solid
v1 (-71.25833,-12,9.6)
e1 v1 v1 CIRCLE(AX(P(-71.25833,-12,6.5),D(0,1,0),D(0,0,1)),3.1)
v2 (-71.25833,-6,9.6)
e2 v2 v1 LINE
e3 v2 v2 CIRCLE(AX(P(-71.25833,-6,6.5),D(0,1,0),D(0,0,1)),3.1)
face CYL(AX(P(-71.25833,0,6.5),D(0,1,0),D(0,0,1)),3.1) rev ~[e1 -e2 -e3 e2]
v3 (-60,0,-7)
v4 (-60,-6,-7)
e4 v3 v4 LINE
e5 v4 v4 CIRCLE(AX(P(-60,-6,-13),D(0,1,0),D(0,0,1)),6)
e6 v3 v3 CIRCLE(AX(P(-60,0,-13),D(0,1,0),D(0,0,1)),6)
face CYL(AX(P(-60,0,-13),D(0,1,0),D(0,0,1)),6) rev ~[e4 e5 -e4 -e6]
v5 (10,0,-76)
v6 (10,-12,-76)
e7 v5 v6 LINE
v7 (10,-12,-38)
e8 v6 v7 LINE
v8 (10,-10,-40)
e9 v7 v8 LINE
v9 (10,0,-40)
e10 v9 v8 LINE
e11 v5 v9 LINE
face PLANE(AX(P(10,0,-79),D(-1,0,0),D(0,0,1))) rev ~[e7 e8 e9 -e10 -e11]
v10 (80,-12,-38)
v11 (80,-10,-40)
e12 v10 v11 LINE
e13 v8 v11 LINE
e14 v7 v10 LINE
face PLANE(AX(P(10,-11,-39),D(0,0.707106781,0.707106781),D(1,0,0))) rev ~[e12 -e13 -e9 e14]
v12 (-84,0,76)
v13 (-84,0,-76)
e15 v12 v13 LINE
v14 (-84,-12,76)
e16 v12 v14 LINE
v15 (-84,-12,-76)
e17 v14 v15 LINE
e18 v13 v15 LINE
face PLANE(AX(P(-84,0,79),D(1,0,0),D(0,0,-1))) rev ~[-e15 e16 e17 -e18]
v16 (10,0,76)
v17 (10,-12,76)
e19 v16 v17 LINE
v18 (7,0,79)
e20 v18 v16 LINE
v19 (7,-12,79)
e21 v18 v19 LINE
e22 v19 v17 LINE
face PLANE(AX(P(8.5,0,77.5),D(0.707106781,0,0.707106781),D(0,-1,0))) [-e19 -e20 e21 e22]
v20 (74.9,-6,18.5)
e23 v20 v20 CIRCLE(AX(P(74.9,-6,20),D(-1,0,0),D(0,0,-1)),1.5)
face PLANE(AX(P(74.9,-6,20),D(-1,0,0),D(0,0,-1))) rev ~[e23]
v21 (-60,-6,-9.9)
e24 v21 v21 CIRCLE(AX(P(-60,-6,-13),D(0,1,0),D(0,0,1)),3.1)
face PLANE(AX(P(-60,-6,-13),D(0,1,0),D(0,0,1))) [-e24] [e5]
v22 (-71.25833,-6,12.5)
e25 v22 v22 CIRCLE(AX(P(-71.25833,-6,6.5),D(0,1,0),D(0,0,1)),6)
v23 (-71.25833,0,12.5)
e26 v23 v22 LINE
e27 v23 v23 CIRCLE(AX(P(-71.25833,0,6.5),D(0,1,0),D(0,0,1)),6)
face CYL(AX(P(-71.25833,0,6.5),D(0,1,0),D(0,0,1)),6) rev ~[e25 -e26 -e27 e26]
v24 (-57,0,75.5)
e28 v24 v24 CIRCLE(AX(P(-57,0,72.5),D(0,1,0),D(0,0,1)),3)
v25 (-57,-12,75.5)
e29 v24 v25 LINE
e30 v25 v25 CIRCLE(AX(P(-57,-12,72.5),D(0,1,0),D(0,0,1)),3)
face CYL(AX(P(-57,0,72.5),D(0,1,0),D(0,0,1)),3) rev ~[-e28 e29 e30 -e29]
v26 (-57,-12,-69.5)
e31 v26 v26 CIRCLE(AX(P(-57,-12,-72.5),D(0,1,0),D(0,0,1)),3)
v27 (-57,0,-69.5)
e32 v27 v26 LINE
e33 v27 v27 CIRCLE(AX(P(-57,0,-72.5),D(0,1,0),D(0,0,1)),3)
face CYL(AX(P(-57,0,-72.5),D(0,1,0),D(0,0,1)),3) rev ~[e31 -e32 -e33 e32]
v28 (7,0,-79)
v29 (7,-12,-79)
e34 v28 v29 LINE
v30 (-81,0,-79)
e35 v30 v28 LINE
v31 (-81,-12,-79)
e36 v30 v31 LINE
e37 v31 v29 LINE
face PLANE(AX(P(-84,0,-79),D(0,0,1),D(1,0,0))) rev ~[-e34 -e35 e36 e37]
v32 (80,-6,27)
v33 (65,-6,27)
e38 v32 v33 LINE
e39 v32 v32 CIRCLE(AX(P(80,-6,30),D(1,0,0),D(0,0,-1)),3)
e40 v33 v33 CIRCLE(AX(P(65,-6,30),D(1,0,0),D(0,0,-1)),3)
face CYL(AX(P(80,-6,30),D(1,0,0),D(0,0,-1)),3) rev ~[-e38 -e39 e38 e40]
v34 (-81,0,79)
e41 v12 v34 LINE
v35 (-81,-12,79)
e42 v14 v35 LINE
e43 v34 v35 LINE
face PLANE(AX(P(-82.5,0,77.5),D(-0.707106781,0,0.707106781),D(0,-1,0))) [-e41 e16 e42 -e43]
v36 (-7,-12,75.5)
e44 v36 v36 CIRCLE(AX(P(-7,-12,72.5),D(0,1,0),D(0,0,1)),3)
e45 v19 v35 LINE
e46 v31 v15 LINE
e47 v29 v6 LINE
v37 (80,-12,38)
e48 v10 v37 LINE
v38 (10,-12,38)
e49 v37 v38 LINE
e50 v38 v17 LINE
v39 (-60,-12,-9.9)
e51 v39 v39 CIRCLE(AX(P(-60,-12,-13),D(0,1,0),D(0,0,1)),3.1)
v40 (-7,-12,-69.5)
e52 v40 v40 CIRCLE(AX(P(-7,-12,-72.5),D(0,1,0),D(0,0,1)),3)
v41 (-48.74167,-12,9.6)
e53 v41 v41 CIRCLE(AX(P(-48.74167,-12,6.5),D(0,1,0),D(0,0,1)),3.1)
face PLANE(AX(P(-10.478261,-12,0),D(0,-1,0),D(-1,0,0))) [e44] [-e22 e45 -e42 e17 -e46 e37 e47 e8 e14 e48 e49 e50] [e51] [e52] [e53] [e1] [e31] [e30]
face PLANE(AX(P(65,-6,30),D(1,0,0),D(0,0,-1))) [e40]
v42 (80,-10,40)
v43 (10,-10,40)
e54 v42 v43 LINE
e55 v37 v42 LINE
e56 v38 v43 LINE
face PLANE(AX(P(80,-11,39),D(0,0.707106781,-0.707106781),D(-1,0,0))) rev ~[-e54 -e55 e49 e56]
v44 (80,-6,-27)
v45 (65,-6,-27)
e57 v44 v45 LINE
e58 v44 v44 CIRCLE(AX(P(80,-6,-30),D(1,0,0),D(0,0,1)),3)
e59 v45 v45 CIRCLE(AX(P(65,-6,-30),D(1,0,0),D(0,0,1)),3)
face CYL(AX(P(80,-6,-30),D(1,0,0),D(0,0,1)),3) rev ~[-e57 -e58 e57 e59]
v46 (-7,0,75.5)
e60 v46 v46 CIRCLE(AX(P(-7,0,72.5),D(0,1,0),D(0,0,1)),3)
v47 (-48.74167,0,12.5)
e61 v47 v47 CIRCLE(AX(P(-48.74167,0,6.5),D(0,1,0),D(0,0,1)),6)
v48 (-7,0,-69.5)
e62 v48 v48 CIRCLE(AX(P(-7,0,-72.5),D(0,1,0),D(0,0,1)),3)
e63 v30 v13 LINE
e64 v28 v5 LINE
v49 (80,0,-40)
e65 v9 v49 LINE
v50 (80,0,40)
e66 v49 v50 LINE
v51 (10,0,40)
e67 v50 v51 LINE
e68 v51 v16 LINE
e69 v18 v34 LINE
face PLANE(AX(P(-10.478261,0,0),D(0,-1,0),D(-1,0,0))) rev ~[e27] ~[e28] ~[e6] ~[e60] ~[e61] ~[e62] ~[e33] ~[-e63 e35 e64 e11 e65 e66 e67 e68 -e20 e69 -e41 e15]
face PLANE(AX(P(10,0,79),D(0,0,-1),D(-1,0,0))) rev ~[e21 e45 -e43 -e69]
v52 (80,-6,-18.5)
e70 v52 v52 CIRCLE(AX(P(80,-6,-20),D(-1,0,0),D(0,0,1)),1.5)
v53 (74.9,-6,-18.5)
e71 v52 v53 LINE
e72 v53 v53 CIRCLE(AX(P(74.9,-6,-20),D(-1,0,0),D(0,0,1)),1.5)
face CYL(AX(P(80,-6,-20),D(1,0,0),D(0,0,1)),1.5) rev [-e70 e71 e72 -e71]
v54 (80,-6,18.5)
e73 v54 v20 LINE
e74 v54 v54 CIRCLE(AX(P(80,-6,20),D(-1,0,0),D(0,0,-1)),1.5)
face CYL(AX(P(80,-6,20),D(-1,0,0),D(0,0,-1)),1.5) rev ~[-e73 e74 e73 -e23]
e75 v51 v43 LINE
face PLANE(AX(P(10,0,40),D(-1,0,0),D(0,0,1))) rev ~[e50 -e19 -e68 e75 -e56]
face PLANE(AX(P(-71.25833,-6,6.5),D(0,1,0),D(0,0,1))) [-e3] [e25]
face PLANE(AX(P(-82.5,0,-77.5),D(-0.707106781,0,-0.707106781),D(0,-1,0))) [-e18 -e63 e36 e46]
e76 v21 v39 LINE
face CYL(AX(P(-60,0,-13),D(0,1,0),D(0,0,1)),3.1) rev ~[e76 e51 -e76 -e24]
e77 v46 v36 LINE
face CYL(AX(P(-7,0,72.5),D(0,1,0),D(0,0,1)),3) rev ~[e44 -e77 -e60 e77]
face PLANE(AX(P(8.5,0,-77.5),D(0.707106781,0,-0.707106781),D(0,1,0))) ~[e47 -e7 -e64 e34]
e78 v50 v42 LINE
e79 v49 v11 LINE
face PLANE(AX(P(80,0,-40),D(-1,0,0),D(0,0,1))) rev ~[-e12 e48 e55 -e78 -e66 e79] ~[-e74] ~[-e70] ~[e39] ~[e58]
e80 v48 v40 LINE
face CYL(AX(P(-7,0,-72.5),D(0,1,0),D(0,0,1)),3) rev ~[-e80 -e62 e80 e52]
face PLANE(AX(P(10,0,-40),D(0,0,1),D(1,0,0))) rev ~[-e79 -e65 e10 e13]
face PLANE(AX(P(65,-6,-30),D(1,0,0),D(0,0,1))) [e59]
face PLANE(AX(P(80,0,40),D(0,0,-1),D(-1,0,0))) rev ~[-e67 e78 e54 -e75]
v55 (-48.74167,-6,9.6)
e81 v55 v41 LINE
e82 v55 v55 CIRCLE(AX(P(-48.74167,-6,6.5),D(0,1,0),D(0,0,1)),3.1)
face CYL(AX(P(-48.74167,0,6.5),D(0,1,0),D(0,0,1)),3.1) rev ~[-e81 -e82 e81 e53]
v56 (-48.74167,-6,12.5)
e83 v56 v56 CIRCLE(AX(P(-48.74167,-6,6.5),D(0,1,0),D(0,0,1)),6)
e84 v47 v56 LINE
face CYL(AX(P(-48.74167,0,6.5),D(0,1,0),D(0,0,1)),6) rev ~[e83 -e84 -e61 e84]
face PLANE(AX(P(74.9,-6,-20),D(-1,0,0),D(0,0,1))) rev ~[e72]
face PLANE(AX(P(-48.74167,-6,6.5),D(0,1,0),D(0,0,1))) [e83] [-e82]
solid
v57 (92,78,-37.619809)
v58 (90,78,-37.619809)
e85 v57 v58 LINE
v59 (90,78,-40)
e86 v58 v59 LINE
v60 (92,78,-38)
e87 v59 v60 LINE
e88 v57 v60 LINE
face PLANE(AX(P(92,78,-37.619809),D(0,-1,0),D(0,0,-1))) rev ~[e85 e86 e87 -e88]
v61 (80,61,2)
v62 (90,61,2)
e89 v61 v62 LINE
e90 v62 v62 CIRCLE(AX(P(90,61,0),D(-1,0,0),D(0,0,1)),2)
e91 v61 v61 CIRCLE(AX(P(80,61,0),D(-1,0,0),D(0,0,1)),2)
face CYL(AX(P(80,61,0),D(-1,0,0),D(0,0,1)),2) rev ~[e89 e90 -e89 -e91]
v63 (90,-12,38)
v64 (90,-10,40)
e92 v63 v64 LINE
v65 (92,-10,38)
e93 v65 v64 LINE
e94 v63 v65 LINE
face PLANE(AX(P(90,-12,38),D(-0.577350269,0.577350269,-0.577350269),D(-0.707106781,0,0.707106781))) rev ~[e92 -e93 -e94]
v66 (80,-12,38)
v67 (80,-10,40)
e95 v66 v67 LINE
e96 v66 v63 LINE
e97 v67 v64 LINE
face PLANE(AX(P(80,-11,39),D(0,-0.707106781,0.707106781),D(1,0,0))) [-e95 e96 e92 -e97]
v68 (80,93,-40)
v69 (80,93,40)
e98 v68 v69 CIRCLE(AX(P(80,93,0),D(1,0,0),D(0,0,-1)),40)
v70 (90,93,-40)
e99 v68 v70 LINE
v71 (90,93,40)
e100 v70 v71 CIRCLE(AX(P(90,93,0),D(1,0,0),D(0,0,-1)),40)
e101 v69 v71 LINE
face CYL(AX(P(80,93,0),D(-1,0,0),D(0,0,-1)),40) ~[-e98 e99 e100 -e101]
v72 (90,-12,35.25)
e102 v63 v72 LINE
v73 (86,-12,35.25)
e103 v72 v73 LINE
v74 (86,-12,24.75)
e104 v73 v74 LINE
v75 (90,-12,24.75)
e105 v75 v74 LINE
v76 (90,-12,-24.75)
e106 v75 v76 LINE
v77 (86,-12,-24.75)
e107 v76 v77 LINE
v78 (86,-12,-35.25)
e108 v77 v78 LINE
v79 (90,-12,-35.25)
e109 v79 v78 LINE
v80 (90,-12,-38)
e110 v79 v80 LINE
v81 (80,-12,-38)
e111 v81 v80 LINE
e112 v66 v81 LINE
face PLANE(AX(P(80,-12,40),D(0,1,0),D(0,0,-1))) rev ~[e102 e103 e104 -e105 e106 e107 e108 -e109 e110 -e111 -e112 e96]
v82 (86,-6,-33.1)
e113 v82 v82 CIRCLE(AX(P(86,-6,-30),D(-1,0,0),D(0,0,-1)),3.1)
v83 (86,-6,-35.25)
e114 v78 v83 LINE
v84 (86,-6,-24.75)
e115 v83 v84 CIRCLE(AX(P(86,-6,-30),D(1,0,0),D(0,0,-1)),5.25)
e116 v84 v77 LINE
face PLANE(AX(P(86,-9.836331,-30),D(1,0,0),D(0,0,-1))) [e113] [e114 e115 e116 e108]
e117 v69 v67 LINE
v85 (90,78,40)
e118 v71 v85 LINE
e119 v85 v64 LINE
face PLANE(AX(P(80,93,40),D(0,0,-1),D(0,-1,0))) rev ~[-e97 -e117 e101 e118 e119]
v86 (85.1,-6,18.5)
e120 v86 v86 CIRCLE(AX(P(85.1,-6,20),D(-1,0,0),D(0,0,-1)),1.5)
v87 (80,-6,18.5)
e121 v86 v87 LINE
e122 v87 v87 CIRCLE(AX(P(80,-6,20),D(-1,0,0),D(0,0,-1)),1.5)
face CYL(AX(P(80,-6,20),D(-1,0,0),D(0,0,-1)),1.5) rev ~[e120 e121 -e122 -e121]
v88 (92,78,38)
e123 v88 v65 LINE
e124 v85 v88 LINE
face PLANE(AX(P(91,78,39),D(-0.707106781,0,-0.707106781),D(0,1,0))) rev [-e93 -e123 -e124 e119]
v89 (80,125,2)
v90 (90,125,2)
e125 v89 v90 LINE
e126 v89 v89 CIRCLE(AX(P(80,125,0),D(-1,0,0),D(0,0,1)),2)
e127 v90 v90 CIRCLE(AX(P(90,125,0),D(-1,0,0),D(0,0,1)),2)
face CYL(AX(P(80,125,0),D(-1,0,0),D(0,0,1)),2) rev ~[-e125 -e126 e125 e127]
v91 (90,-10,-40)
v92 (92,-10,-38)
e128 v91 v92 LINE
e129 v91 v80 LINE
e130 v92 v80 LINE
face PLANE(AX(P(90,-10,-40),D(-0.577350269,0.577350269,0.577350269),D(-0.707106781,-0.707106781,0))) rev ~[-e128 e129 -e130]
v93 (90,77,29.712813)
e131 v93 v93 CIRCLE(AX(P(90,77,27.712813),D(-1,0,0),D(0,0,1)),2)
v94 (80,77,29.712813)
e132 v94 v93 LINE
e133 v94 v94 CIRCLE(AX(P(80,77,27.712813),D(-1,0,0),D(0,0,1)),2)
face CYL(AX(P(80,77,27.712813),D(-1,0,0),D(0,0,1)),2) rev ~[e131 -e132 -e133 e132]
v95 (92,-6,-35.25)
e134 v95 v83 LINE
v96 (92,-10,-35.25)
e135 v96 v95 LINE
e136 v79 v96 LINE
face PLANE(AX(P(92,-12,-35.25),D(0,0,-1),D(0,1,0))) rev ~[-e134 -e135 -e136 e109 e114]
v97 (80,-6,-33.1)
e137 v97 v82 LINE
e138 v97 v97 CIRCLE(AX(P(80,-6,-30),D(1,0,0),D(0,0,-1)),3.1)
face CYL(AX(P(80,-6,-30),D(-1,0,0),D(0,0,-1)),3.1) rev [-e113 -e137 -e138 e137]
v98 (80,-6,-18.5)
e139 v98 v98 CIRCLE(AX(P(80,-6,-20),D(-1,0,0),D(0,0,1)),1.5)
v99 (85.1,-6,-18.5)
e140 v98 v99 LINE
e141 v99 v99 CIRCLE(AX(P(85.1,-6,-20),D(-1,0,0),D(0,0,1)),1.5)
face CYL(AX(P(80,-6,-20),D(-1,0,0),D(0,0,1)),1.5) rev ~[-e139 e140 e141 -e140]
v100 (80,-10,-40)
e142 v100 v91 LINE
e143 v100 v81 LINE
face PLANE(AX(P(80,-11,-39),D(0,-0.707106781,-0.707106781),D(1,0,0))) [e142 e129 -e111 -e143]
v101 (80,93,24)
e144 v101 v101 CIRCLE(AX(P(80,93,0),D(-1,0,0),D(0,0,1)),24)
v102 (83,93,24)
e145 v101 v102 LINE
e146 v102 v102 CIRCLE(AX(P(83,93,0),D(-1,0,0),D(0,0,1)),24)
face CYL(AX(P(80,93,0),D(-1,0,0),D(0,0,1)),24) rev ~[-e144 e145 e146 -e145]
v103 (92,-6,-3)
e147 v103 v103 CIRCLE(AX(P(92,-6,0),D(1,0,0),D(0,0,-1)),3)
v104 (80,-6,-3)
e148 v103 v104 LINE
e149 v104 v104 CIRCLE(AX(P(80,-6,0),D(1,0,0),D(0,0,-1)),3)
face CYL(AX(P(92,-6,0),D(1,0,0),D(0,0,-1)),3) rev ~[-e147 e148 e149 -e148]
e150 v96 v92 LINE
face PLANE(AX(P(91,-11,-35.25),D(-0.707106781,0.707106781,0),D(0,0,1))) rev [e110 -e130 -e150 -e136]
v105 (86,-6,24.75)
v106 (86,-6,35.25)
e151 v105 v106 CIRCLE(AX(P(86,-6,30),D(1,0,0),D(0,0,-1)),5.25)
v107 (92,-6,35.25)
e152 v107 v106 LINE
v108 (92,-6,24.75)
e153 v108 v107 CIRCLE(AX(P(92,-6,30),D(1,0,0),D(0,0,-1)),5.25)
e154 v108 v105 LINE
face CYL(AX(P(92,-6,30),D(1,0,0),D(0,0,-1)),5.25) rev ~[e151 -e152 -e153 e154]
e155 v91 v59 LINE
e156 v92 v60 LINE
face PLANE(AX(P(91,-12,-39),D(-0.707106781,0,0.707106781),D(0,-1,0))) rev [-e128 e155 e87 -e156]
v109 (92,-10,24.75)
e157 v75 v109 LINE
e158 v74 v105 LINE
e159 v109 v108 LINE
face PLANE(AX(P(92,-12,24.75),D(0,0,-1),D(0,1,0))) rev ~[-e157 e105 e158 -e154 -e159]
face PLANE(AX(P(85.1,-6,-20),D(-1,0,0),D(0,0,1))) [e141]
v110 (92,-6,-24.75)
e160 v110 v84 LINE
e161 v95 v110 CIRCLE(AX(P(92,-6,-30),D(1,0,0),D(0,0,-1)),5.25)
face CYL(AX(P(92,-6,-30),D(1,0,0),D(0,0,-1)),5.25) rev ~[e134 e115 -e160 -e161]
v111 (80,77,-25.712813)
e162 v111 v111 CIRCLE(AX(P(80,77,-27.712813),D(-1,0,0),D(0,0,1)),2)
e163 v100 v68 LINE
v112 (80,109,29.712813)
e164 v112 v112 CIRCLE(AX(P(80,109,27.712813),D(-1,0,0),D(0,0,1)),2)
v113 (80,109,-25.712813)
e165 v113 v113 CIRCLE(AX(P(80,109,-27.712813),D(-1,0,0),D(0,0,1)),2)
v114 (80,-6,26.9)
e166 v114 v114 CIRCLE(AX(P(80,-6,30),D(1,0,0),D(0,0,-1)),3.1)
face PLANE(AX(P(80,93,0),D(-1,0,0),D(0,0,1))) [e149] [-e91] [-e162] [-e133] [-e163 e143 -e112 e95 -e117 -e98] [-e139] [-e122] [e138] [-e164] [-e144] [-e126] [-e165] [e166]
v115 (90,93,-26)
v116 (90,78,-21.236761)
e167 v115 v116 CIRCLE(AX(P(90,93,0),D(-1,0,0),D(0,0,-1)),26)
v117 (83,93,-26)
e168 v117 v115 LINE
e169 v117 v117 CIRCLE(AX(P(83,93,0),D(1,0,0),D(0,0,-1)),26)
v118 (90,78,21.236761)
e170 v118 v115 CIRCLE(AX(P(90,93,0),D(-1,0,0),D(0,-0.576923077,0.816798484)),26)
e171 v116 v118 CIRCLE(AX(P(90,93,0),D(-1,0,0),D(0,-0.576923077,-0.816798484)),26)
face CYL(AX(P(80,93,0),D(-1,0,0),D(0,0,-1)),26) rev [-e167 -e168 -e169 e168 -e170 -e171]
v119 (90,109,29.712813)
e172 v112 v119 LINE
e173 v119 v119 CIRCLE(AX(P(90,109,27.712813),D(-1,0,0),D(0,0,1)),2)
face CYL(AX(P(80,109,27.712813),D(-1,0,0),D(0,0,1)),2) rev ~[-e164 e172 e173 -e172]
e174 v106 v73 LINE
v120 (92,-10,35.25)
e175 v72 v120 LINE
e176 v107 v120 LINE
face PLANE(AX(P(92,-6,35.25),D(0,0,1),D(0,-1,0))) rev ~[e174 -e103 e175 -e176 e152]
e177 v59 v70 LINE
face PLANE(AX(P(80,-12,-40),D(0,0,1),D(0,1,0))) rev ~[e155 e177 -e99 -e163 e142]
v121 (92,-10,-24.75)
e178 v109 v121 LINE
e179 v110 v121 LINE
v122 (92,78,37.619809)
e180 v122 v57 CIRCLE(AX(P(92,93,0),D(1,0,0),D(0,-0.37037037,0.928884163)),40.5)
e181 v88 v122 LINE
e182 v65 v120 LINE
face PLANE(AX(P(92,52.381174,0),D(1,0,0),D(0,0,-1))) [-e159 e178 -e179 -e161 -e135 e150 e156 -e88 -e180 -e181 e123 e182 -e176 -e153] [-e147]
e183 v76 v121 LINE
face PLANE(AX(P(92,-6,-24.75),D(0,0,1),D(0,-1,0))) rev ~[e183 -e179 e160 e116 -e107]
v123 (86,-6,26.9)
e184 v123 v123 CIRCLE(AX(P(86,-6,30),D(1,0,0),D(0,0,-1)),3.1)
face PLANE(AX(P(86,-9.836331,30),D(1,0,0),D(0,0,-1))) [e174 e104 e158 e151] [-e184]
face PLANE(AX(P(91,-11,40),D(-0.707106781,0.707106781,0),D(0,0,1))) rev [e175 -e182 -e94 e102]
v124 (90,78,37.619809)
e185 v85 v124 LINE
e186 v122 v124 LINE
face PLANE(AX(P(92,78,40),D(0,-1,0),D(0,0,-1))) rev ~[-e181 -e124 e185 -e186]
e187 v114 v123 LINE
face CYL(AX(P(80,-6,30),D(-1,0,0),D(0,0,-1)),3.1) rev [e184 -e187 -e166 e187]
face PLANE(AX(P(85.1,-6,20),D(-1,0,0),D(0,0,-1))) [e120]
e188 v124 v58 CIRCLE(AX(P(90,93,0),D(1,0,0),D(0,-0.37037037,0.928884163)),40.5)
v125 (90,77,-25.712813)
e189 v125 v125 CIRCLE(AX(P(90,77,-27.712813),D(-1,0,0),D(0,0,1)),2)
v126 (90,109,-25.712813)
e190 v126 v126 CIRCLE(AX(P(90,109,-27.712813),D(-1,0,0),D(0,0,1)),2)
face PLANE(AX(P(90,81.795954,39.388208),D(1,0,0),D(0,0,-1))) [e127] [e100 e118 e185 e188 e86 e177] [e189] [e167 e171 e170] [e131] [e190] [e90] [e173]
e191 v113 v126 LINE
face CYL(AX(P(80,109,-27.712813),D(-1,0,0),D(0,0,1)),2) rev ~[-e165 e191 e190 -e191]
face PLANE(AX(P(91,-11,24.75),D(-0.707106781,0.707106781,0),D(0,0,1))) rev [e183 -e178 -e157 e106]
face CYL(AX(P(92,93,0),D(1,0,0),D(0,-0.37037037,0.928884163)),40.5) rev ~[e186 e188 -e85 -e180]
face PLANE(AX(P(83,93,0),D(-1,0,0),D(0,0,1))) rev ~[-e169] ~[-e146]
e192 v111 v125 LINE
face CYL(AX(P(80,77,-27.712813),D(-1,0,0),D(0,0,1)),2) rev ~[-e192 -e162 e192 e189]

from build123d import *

# Parameters (mm, degrees)
SKETCH_10_R            = 3
EXTRUDE_5_DEPTH        = 12
SKETCH_11_R            = 3.1
CUT_EXTRUDE_5809_DEPTH = 116.935326799
SKETCH_12_R            = 6
CUT_EXTRUDE_3_DEPTH    = 6
SKETCH_13_R            = 3
CUT_EXTRUDE_6368_DEPTH = 15
CHAMFER_1_SIZE         = 3
CHAMFER_3_SIZE         = 2
SKETCH_14_R            = 26
SKETCH_14_R_2          = 3.1
EXTRUDE_6_DEPTH        = 12
SKETCH_19_R            = 26
SKETCH_19_R_2          = 24
EXTRUDE_7_DEPTH        = 3
CUT_EXTRUDE_7740_DEPTH = 6
CUT_EXTRUDE_6_DEPTH    = 2
SKETCH_17_R            = 2
CUT_EXTRUDE_M4_DEPTH   = 226.446224187
SKETCH_18_R            = 1.5
CUT_EXTRUDE_9319_DEPTH = 5.1
SKETCH_20_R            = 3
CUT_EXTRUDE_9634_DEPTH = 12
CHAMFER_2_SIZE         = 2


with BuildPart() as part:
    # ｽｹｯﾁ10 → ﾎﾞｽ - 押し出し5 (new body)
    with BuildSketch(Plane(origin=(0, 0, 0), x_dir=(1, 0, 0), z_dir=(0, 1, 0))):
        Polygon((-84, 79), (10, 79), (10, 40), (80, 40), (80, -40), (10, -40), (10, -79), (-84, -79), align=None)
        with Locations(Location((-57, 72.5, 0), (0, 0, 270))):
            Circle(SKETCH_10_R, mode=Mode.SUBTRACT)
        with Locations(Location((-7, 72.5, 0), (0, 0, 270))):
            Circle(SKETCH_10_R, mode=Mode.SUBTRACT)
        with Locations(Location((-57, -72.5, 0), (0, 0, 270))):
            Circle(SKETCH_10_R, mode=Mode.SUBTRACT)
        with Locations(Location((-7, -72.5, 0), (0, 0, 270))):
            Circle(SKETCH_10_R, mode=Mode.SUBTRACT)
    extrude(amount=-EXTRUDE_5_DEPTH)

    # ｽｹｯﾁ11 → Cut-Extrude 5809 (cut, through all)
    with BuildSketch(Plane(origin=(0, 0, 0), x_dir=(1, 0, 0), z_dir=(0, 1, 0))):
        with Locations(Location((-71.258330249, -6.5, 0), (0, 0, 270))):
            Circle(SKETCH_11_R)
        with Locations(Location((-60, 13, 0), (0, 0, 270))):
            Circle(SKETCH_11_R)
        with Locations(Location((-48.741669751, -6.5, 0), (0, 0, 270))):
            Circle(SKETCH_11_R)
    extrude(amount=-CUT_EXTRUDE_5809_DEPTH, mode=Mode.SUBTRACT)

    # ｽｹｯﾁ12 → ｶｯﾄ - 押し出し3 (cut)
    with BuildSketch(Plane(origin=(0, 0, 0), x_dir=(1, 0, 0), z_dir=(0, 1, 0))):
        with Locations(Location((-71.258330249, -6.5, 0), (0, 0, 270))):
            Circle(SKETCH_12_R)
        with Locations(Location((-60, 13, 0), (0, 0, 270))):
            Circle(SKETCH_12_R)
        with Locations(Location((-48.741669751, -6.5, 0), (0, 0, 270))):
            Circle(SKETCH_12_R)
    extrude(amount=-CUT_EXTRUDE_3_DEPTH, mode=Mode.SUBTRACT)

    # ｽｹｯﾁ13 → Cut-Extrude 6368 (cut)
    with BuildSketch(Plane(origin=(80, 0, 0), x_dir=(0, 0, -1), z_dir=(1, 0, 0))):
        with Locations((-30, -6)):
            Circle(SKETCH_13_R)
        with Locations(Location((30, -6, 0), (0, 0, 180))):
            Circle(SKETCH_13_R)
    extrude(amount=-CUT_EXTRUDE_6368_DEPTH, mode=Mode.SUBTRACT)

    # 面取り1
    chamfer_1_edges = [part.edges().sort_by_distance(p)[0] for p in [
        (-84, -6, -79),
        (10, -6, -79),
        (10, -6, 79),
        (-84, -6, 79),
    ]]
    chamfer(chamfer_1_edges, length=CHAMFER_1_SIZE)

    # 面取り3
    chamfer_3_edges = [part.edges().sort_by_distance(p)[0] for p in [
        (45, -12, 40),
        (45, -12, -40),
    ]]
    chamfer(chamfer_3_edges, length=CHAMFER_3_SIZE)


with BuildPart() as body_2:
    # ｽｹｯﾁ14 → ﾎﾞｽ - 押し出し6 (new body)
    with BuildSketch(Plane(origin=(80, 0, 0), x_dir=(0, 0, -1), z_dir=(1, 0, 0))):
        with BuildLine():
            Line((40, -12), (40, 0))
            Line((40, 0), (40, 93))
            ThreePointArc((40, 93), (0, 133), (-40, 93))
            Line((-40, 93), (-40, 0))
            Line((-40, 0), (-40, -12))
            Line((-40, -12), (40, -12))
        make_face()
        with Locations((0, 93)):
            Circle(SKETCH_14_R, mode=Mode.SUBTRACT)
        with Locations((-30, -6)):
            Circle(SKETCH_14_R_2, mode=Mode.SUBTRACT)
        with Locations((30, -6)):
            Circle(SKETCH_14_R_2, mode=Mode.SUBTRACT)
    extrude(amount=EXTRUDE_6_DEPTH)

    # ｽｹｯﾁ19 → ﾎﾞｽ - 押し出し7 (add)
    with BuildSketch(Plane.ZY.offset(-80)):
        with Locations((0, 93)):
            Circle(SKETCH_19_R)
        with Locations((0, 93)):
            Circle(SKETCH_19_R_2, mode=Mode.SUBTRACT)
    extrude(amount=-EXTRUDE_7_DEPTH)

    # ｽｹｯﾁ15 → Cut-Extrude 7740 (cut)
    with BuildSketch(Plane(origin=(92, 0, 0), x_dir=(0, 0, -1), z_dir=(1, 0, 0))):
        with BuildLine():
            Line((-24.75, -12), (-24.75, -6))
            ThreePointArc((-24.75, -6), (-30, -11.25), (-35.25, -6))
            Line((-35.25, -6), (-35.25, -12))
            Line((-35.25, -12), (-24.75, -12))
        make_face()
        with BuildLine():
            ThreePointArc((-33.1, -6), (-30, -2.9), (-26.9, -6))
            Line((-26.9, -6), (-24.75, -6))
            ThreePointArc((-24.75, -6), (-30, -0.75), (-35.25, -6))
            Line((-35.25, -6), (-33.1, -6))
        make_face()
        with BuildLine():
            Line((-24.75, -6), (-26.9, -6))
            ThreePointArc((-26.9, -6), (-30, -9.1), (-33.1, -6))
            Line((-33.1, -6), (-35.25, -6))
            ThreePointArc((-35.25, -6), (-30, -11.25), (-24.75, -6))
        make_face()
        with BuildLine():
            Line((24.75, -6), (24.75, -12))
            Line((24.75, -12), (35.25, -12))
            Line((35.25, -12), (35.25, -6))
            ThreePointArc((35.25, -6), (30, -11.25), (24.75, -6))
        make_face()
        with BuildLine():
            ThreePointArc((35.25, -6), (30, -0.75), (24.75, -6))
            Line((24.75, -6), (26.9, -6))
            ThreePointArc((26.9, -6), (30, -2.9), (33.1, -6))
            Line((33.1, -6), (35.25, -6))
        make_face()
        with BuildLine():
            Line((26.9, -6), (24.75, -6))
            ThreePointArc((24.75, -6), (30, -11.25), (35.25, -6))
            Line((35.25, -6), (33.1, -6))
            ThreePointArc((33.1, -6), (30, -9.1), (26.9, -6))
        make_face()
    extrude(amount=-CUT_EXTRUDE_7740_DEPTH, mode=Mode.SUBTRACT)

    # ｽｹｯﾁ16 → ｶｯﾄ - 押し出し6 (cut)
    with BuildSketch(Plane(origin=(92, 0, 0), x_dir=(0, 0, -1), z_dir=(1, 0, 0))):
        with BuildLine():
            Line((-40, 86.65571123), (-40, 78))
            Line((-40, 78), (-37.619808612, 78))
            ThreePointArc((-37.619808612, 78), (-39.050467429, 82.261704347), (-40, 86.65571123))
        make_face()
        with BuildLine():
            Line((-21.236760582, 78), (-37.619808612, 78))
            ThreePointArc((-37.619808612, 78), (0, 52.5), (37.619808612, 78))
            Line((37.619808612, 78), (21.236760582, 78))
            ThreePointArc((21.236760582, 78), (0, 67), (-21.236760582, 78))
        make_face()
        with BuildLine():
            ThreePointArc((-40, 86.65571123), (-39.050467429, 82.261704347), (-37.619808612, 78))
            Line((-37.619808612, 78), (-21.236760582, 78))
            ThreePointArc((-21.236760582, 78), (-7.869060455, 117.78059498), (26, 93))
            ThreePointArc((26, 93), (24.78059498, 85.130939545), (21.236760582, 78))
            Line((21.236760582, 78), (37.619808612, 78))
            ThreePointArc((37.619808612, 78), (39.050467429, 82.261704347), (40, 86.65571123))
            Line((40, 86.65571123), (40, 93))
            ThreePointArc((40, 93), (0, 133), (-40, 93))
            Line((-40, 93), (-40, 86.65571123))
        make_face()
        with BuildLine():
            ThreePointArc((40, 86.65571123), (39.050467429, 82.261704347), (37.619808612, 78))
            Line((37.619808612, 78), (40, 78))
            Line((40, 78), (40, 86.65571123))
        make_face()
    extrude(amount=-CUT_EXTRUDE_6_DEPTH, mode=Mode.SUBTRACT)

    # ｽｹｯﾁ17 → M4タップ (cut, through all)
    with BuildSketch(Plane.ZY.offset(-80)):
        with Locations((0, 125)):
            Circle(SKETCH_17_R)
        with Locations((27.712812921, 109)):
            Circle(SKETCH_17_R)
        with Locations((27.712812921, 77)):
            Circle(SKETCH_17_R)
        with Locations((0, 61)):
            Circle(SKETCH_17_R)
        with Locations((-27.712812921, 109)):
            Circle(SKETCH_17_R)
        with Locations((-27.712812921, 77)):
            Circle(SKETCH_17_R)
    extrude(amount=-CUT_EXTRUDE_M4_DEPTH, mode=Mode.SUBTRACT)


with BuildPart() as cut_extrude_9319_tool:
    # ｽｹｯﾁ18 → Cut-Extrude 9319 (new, symmetric)
    with BuildSketch(Plane.ZY.offset(-80)):
        with Locations((-20, -6)):
            Circle(SKETCH_18_R)
        with Locations(Location((20, -6, 0), (0, 0, 180))):
            Circle(SKETCH_18_R)
    extrude(amount=CUT_EXTRUDE_9319_DEPTH, both=True)


with BuildPart() as part_1:
    add(part.part)

    # Cut-Extrude 9319: cut by cut_extrude_9319_tool
    add(cut_extrude_9319_tool.part, mode=Mode.SUBTRACT)


with BuildPart() as body_2_1:
    add(body_2.part)

    # Cut-Extrude 9319: cut by cut_extrude_9319_tool
    add(cut_extrude_9319_tool.part, mode=Mode.SUBTRACT)

    # ｽｹｯﾁ20 → Cut-Extrude 9634 (cut)
    with BuildSketch(Plane(origin=(92, 0, 0), x_dir=(0, 0, -1), z_dir=(1, 0, 0))):
        with Locations((0, -6)):
            Circle(SKETCH_20_R)
    extrude(amount=-CUT_EXTRUDE_9634_DEPTH, mode=Mode.SUBTRACT)

    # 面取り2
    chamfer_2_edges = [body_2_1.edges().sort_by_distance(p)[0] for p in [
        (92, 33, 40),
        (92, -12, 37.625),
        (92, -12, 0),
        (92, -12, -37.625),
        (92, 33, -40),
        (86, -12, 40),
        (86, -12, -40),
    ]]
    chamfer(chamfer_2_edges, length=CHAMFER_2_SIZE)


solid = Compound([part_1.part, body_2_1.part])
